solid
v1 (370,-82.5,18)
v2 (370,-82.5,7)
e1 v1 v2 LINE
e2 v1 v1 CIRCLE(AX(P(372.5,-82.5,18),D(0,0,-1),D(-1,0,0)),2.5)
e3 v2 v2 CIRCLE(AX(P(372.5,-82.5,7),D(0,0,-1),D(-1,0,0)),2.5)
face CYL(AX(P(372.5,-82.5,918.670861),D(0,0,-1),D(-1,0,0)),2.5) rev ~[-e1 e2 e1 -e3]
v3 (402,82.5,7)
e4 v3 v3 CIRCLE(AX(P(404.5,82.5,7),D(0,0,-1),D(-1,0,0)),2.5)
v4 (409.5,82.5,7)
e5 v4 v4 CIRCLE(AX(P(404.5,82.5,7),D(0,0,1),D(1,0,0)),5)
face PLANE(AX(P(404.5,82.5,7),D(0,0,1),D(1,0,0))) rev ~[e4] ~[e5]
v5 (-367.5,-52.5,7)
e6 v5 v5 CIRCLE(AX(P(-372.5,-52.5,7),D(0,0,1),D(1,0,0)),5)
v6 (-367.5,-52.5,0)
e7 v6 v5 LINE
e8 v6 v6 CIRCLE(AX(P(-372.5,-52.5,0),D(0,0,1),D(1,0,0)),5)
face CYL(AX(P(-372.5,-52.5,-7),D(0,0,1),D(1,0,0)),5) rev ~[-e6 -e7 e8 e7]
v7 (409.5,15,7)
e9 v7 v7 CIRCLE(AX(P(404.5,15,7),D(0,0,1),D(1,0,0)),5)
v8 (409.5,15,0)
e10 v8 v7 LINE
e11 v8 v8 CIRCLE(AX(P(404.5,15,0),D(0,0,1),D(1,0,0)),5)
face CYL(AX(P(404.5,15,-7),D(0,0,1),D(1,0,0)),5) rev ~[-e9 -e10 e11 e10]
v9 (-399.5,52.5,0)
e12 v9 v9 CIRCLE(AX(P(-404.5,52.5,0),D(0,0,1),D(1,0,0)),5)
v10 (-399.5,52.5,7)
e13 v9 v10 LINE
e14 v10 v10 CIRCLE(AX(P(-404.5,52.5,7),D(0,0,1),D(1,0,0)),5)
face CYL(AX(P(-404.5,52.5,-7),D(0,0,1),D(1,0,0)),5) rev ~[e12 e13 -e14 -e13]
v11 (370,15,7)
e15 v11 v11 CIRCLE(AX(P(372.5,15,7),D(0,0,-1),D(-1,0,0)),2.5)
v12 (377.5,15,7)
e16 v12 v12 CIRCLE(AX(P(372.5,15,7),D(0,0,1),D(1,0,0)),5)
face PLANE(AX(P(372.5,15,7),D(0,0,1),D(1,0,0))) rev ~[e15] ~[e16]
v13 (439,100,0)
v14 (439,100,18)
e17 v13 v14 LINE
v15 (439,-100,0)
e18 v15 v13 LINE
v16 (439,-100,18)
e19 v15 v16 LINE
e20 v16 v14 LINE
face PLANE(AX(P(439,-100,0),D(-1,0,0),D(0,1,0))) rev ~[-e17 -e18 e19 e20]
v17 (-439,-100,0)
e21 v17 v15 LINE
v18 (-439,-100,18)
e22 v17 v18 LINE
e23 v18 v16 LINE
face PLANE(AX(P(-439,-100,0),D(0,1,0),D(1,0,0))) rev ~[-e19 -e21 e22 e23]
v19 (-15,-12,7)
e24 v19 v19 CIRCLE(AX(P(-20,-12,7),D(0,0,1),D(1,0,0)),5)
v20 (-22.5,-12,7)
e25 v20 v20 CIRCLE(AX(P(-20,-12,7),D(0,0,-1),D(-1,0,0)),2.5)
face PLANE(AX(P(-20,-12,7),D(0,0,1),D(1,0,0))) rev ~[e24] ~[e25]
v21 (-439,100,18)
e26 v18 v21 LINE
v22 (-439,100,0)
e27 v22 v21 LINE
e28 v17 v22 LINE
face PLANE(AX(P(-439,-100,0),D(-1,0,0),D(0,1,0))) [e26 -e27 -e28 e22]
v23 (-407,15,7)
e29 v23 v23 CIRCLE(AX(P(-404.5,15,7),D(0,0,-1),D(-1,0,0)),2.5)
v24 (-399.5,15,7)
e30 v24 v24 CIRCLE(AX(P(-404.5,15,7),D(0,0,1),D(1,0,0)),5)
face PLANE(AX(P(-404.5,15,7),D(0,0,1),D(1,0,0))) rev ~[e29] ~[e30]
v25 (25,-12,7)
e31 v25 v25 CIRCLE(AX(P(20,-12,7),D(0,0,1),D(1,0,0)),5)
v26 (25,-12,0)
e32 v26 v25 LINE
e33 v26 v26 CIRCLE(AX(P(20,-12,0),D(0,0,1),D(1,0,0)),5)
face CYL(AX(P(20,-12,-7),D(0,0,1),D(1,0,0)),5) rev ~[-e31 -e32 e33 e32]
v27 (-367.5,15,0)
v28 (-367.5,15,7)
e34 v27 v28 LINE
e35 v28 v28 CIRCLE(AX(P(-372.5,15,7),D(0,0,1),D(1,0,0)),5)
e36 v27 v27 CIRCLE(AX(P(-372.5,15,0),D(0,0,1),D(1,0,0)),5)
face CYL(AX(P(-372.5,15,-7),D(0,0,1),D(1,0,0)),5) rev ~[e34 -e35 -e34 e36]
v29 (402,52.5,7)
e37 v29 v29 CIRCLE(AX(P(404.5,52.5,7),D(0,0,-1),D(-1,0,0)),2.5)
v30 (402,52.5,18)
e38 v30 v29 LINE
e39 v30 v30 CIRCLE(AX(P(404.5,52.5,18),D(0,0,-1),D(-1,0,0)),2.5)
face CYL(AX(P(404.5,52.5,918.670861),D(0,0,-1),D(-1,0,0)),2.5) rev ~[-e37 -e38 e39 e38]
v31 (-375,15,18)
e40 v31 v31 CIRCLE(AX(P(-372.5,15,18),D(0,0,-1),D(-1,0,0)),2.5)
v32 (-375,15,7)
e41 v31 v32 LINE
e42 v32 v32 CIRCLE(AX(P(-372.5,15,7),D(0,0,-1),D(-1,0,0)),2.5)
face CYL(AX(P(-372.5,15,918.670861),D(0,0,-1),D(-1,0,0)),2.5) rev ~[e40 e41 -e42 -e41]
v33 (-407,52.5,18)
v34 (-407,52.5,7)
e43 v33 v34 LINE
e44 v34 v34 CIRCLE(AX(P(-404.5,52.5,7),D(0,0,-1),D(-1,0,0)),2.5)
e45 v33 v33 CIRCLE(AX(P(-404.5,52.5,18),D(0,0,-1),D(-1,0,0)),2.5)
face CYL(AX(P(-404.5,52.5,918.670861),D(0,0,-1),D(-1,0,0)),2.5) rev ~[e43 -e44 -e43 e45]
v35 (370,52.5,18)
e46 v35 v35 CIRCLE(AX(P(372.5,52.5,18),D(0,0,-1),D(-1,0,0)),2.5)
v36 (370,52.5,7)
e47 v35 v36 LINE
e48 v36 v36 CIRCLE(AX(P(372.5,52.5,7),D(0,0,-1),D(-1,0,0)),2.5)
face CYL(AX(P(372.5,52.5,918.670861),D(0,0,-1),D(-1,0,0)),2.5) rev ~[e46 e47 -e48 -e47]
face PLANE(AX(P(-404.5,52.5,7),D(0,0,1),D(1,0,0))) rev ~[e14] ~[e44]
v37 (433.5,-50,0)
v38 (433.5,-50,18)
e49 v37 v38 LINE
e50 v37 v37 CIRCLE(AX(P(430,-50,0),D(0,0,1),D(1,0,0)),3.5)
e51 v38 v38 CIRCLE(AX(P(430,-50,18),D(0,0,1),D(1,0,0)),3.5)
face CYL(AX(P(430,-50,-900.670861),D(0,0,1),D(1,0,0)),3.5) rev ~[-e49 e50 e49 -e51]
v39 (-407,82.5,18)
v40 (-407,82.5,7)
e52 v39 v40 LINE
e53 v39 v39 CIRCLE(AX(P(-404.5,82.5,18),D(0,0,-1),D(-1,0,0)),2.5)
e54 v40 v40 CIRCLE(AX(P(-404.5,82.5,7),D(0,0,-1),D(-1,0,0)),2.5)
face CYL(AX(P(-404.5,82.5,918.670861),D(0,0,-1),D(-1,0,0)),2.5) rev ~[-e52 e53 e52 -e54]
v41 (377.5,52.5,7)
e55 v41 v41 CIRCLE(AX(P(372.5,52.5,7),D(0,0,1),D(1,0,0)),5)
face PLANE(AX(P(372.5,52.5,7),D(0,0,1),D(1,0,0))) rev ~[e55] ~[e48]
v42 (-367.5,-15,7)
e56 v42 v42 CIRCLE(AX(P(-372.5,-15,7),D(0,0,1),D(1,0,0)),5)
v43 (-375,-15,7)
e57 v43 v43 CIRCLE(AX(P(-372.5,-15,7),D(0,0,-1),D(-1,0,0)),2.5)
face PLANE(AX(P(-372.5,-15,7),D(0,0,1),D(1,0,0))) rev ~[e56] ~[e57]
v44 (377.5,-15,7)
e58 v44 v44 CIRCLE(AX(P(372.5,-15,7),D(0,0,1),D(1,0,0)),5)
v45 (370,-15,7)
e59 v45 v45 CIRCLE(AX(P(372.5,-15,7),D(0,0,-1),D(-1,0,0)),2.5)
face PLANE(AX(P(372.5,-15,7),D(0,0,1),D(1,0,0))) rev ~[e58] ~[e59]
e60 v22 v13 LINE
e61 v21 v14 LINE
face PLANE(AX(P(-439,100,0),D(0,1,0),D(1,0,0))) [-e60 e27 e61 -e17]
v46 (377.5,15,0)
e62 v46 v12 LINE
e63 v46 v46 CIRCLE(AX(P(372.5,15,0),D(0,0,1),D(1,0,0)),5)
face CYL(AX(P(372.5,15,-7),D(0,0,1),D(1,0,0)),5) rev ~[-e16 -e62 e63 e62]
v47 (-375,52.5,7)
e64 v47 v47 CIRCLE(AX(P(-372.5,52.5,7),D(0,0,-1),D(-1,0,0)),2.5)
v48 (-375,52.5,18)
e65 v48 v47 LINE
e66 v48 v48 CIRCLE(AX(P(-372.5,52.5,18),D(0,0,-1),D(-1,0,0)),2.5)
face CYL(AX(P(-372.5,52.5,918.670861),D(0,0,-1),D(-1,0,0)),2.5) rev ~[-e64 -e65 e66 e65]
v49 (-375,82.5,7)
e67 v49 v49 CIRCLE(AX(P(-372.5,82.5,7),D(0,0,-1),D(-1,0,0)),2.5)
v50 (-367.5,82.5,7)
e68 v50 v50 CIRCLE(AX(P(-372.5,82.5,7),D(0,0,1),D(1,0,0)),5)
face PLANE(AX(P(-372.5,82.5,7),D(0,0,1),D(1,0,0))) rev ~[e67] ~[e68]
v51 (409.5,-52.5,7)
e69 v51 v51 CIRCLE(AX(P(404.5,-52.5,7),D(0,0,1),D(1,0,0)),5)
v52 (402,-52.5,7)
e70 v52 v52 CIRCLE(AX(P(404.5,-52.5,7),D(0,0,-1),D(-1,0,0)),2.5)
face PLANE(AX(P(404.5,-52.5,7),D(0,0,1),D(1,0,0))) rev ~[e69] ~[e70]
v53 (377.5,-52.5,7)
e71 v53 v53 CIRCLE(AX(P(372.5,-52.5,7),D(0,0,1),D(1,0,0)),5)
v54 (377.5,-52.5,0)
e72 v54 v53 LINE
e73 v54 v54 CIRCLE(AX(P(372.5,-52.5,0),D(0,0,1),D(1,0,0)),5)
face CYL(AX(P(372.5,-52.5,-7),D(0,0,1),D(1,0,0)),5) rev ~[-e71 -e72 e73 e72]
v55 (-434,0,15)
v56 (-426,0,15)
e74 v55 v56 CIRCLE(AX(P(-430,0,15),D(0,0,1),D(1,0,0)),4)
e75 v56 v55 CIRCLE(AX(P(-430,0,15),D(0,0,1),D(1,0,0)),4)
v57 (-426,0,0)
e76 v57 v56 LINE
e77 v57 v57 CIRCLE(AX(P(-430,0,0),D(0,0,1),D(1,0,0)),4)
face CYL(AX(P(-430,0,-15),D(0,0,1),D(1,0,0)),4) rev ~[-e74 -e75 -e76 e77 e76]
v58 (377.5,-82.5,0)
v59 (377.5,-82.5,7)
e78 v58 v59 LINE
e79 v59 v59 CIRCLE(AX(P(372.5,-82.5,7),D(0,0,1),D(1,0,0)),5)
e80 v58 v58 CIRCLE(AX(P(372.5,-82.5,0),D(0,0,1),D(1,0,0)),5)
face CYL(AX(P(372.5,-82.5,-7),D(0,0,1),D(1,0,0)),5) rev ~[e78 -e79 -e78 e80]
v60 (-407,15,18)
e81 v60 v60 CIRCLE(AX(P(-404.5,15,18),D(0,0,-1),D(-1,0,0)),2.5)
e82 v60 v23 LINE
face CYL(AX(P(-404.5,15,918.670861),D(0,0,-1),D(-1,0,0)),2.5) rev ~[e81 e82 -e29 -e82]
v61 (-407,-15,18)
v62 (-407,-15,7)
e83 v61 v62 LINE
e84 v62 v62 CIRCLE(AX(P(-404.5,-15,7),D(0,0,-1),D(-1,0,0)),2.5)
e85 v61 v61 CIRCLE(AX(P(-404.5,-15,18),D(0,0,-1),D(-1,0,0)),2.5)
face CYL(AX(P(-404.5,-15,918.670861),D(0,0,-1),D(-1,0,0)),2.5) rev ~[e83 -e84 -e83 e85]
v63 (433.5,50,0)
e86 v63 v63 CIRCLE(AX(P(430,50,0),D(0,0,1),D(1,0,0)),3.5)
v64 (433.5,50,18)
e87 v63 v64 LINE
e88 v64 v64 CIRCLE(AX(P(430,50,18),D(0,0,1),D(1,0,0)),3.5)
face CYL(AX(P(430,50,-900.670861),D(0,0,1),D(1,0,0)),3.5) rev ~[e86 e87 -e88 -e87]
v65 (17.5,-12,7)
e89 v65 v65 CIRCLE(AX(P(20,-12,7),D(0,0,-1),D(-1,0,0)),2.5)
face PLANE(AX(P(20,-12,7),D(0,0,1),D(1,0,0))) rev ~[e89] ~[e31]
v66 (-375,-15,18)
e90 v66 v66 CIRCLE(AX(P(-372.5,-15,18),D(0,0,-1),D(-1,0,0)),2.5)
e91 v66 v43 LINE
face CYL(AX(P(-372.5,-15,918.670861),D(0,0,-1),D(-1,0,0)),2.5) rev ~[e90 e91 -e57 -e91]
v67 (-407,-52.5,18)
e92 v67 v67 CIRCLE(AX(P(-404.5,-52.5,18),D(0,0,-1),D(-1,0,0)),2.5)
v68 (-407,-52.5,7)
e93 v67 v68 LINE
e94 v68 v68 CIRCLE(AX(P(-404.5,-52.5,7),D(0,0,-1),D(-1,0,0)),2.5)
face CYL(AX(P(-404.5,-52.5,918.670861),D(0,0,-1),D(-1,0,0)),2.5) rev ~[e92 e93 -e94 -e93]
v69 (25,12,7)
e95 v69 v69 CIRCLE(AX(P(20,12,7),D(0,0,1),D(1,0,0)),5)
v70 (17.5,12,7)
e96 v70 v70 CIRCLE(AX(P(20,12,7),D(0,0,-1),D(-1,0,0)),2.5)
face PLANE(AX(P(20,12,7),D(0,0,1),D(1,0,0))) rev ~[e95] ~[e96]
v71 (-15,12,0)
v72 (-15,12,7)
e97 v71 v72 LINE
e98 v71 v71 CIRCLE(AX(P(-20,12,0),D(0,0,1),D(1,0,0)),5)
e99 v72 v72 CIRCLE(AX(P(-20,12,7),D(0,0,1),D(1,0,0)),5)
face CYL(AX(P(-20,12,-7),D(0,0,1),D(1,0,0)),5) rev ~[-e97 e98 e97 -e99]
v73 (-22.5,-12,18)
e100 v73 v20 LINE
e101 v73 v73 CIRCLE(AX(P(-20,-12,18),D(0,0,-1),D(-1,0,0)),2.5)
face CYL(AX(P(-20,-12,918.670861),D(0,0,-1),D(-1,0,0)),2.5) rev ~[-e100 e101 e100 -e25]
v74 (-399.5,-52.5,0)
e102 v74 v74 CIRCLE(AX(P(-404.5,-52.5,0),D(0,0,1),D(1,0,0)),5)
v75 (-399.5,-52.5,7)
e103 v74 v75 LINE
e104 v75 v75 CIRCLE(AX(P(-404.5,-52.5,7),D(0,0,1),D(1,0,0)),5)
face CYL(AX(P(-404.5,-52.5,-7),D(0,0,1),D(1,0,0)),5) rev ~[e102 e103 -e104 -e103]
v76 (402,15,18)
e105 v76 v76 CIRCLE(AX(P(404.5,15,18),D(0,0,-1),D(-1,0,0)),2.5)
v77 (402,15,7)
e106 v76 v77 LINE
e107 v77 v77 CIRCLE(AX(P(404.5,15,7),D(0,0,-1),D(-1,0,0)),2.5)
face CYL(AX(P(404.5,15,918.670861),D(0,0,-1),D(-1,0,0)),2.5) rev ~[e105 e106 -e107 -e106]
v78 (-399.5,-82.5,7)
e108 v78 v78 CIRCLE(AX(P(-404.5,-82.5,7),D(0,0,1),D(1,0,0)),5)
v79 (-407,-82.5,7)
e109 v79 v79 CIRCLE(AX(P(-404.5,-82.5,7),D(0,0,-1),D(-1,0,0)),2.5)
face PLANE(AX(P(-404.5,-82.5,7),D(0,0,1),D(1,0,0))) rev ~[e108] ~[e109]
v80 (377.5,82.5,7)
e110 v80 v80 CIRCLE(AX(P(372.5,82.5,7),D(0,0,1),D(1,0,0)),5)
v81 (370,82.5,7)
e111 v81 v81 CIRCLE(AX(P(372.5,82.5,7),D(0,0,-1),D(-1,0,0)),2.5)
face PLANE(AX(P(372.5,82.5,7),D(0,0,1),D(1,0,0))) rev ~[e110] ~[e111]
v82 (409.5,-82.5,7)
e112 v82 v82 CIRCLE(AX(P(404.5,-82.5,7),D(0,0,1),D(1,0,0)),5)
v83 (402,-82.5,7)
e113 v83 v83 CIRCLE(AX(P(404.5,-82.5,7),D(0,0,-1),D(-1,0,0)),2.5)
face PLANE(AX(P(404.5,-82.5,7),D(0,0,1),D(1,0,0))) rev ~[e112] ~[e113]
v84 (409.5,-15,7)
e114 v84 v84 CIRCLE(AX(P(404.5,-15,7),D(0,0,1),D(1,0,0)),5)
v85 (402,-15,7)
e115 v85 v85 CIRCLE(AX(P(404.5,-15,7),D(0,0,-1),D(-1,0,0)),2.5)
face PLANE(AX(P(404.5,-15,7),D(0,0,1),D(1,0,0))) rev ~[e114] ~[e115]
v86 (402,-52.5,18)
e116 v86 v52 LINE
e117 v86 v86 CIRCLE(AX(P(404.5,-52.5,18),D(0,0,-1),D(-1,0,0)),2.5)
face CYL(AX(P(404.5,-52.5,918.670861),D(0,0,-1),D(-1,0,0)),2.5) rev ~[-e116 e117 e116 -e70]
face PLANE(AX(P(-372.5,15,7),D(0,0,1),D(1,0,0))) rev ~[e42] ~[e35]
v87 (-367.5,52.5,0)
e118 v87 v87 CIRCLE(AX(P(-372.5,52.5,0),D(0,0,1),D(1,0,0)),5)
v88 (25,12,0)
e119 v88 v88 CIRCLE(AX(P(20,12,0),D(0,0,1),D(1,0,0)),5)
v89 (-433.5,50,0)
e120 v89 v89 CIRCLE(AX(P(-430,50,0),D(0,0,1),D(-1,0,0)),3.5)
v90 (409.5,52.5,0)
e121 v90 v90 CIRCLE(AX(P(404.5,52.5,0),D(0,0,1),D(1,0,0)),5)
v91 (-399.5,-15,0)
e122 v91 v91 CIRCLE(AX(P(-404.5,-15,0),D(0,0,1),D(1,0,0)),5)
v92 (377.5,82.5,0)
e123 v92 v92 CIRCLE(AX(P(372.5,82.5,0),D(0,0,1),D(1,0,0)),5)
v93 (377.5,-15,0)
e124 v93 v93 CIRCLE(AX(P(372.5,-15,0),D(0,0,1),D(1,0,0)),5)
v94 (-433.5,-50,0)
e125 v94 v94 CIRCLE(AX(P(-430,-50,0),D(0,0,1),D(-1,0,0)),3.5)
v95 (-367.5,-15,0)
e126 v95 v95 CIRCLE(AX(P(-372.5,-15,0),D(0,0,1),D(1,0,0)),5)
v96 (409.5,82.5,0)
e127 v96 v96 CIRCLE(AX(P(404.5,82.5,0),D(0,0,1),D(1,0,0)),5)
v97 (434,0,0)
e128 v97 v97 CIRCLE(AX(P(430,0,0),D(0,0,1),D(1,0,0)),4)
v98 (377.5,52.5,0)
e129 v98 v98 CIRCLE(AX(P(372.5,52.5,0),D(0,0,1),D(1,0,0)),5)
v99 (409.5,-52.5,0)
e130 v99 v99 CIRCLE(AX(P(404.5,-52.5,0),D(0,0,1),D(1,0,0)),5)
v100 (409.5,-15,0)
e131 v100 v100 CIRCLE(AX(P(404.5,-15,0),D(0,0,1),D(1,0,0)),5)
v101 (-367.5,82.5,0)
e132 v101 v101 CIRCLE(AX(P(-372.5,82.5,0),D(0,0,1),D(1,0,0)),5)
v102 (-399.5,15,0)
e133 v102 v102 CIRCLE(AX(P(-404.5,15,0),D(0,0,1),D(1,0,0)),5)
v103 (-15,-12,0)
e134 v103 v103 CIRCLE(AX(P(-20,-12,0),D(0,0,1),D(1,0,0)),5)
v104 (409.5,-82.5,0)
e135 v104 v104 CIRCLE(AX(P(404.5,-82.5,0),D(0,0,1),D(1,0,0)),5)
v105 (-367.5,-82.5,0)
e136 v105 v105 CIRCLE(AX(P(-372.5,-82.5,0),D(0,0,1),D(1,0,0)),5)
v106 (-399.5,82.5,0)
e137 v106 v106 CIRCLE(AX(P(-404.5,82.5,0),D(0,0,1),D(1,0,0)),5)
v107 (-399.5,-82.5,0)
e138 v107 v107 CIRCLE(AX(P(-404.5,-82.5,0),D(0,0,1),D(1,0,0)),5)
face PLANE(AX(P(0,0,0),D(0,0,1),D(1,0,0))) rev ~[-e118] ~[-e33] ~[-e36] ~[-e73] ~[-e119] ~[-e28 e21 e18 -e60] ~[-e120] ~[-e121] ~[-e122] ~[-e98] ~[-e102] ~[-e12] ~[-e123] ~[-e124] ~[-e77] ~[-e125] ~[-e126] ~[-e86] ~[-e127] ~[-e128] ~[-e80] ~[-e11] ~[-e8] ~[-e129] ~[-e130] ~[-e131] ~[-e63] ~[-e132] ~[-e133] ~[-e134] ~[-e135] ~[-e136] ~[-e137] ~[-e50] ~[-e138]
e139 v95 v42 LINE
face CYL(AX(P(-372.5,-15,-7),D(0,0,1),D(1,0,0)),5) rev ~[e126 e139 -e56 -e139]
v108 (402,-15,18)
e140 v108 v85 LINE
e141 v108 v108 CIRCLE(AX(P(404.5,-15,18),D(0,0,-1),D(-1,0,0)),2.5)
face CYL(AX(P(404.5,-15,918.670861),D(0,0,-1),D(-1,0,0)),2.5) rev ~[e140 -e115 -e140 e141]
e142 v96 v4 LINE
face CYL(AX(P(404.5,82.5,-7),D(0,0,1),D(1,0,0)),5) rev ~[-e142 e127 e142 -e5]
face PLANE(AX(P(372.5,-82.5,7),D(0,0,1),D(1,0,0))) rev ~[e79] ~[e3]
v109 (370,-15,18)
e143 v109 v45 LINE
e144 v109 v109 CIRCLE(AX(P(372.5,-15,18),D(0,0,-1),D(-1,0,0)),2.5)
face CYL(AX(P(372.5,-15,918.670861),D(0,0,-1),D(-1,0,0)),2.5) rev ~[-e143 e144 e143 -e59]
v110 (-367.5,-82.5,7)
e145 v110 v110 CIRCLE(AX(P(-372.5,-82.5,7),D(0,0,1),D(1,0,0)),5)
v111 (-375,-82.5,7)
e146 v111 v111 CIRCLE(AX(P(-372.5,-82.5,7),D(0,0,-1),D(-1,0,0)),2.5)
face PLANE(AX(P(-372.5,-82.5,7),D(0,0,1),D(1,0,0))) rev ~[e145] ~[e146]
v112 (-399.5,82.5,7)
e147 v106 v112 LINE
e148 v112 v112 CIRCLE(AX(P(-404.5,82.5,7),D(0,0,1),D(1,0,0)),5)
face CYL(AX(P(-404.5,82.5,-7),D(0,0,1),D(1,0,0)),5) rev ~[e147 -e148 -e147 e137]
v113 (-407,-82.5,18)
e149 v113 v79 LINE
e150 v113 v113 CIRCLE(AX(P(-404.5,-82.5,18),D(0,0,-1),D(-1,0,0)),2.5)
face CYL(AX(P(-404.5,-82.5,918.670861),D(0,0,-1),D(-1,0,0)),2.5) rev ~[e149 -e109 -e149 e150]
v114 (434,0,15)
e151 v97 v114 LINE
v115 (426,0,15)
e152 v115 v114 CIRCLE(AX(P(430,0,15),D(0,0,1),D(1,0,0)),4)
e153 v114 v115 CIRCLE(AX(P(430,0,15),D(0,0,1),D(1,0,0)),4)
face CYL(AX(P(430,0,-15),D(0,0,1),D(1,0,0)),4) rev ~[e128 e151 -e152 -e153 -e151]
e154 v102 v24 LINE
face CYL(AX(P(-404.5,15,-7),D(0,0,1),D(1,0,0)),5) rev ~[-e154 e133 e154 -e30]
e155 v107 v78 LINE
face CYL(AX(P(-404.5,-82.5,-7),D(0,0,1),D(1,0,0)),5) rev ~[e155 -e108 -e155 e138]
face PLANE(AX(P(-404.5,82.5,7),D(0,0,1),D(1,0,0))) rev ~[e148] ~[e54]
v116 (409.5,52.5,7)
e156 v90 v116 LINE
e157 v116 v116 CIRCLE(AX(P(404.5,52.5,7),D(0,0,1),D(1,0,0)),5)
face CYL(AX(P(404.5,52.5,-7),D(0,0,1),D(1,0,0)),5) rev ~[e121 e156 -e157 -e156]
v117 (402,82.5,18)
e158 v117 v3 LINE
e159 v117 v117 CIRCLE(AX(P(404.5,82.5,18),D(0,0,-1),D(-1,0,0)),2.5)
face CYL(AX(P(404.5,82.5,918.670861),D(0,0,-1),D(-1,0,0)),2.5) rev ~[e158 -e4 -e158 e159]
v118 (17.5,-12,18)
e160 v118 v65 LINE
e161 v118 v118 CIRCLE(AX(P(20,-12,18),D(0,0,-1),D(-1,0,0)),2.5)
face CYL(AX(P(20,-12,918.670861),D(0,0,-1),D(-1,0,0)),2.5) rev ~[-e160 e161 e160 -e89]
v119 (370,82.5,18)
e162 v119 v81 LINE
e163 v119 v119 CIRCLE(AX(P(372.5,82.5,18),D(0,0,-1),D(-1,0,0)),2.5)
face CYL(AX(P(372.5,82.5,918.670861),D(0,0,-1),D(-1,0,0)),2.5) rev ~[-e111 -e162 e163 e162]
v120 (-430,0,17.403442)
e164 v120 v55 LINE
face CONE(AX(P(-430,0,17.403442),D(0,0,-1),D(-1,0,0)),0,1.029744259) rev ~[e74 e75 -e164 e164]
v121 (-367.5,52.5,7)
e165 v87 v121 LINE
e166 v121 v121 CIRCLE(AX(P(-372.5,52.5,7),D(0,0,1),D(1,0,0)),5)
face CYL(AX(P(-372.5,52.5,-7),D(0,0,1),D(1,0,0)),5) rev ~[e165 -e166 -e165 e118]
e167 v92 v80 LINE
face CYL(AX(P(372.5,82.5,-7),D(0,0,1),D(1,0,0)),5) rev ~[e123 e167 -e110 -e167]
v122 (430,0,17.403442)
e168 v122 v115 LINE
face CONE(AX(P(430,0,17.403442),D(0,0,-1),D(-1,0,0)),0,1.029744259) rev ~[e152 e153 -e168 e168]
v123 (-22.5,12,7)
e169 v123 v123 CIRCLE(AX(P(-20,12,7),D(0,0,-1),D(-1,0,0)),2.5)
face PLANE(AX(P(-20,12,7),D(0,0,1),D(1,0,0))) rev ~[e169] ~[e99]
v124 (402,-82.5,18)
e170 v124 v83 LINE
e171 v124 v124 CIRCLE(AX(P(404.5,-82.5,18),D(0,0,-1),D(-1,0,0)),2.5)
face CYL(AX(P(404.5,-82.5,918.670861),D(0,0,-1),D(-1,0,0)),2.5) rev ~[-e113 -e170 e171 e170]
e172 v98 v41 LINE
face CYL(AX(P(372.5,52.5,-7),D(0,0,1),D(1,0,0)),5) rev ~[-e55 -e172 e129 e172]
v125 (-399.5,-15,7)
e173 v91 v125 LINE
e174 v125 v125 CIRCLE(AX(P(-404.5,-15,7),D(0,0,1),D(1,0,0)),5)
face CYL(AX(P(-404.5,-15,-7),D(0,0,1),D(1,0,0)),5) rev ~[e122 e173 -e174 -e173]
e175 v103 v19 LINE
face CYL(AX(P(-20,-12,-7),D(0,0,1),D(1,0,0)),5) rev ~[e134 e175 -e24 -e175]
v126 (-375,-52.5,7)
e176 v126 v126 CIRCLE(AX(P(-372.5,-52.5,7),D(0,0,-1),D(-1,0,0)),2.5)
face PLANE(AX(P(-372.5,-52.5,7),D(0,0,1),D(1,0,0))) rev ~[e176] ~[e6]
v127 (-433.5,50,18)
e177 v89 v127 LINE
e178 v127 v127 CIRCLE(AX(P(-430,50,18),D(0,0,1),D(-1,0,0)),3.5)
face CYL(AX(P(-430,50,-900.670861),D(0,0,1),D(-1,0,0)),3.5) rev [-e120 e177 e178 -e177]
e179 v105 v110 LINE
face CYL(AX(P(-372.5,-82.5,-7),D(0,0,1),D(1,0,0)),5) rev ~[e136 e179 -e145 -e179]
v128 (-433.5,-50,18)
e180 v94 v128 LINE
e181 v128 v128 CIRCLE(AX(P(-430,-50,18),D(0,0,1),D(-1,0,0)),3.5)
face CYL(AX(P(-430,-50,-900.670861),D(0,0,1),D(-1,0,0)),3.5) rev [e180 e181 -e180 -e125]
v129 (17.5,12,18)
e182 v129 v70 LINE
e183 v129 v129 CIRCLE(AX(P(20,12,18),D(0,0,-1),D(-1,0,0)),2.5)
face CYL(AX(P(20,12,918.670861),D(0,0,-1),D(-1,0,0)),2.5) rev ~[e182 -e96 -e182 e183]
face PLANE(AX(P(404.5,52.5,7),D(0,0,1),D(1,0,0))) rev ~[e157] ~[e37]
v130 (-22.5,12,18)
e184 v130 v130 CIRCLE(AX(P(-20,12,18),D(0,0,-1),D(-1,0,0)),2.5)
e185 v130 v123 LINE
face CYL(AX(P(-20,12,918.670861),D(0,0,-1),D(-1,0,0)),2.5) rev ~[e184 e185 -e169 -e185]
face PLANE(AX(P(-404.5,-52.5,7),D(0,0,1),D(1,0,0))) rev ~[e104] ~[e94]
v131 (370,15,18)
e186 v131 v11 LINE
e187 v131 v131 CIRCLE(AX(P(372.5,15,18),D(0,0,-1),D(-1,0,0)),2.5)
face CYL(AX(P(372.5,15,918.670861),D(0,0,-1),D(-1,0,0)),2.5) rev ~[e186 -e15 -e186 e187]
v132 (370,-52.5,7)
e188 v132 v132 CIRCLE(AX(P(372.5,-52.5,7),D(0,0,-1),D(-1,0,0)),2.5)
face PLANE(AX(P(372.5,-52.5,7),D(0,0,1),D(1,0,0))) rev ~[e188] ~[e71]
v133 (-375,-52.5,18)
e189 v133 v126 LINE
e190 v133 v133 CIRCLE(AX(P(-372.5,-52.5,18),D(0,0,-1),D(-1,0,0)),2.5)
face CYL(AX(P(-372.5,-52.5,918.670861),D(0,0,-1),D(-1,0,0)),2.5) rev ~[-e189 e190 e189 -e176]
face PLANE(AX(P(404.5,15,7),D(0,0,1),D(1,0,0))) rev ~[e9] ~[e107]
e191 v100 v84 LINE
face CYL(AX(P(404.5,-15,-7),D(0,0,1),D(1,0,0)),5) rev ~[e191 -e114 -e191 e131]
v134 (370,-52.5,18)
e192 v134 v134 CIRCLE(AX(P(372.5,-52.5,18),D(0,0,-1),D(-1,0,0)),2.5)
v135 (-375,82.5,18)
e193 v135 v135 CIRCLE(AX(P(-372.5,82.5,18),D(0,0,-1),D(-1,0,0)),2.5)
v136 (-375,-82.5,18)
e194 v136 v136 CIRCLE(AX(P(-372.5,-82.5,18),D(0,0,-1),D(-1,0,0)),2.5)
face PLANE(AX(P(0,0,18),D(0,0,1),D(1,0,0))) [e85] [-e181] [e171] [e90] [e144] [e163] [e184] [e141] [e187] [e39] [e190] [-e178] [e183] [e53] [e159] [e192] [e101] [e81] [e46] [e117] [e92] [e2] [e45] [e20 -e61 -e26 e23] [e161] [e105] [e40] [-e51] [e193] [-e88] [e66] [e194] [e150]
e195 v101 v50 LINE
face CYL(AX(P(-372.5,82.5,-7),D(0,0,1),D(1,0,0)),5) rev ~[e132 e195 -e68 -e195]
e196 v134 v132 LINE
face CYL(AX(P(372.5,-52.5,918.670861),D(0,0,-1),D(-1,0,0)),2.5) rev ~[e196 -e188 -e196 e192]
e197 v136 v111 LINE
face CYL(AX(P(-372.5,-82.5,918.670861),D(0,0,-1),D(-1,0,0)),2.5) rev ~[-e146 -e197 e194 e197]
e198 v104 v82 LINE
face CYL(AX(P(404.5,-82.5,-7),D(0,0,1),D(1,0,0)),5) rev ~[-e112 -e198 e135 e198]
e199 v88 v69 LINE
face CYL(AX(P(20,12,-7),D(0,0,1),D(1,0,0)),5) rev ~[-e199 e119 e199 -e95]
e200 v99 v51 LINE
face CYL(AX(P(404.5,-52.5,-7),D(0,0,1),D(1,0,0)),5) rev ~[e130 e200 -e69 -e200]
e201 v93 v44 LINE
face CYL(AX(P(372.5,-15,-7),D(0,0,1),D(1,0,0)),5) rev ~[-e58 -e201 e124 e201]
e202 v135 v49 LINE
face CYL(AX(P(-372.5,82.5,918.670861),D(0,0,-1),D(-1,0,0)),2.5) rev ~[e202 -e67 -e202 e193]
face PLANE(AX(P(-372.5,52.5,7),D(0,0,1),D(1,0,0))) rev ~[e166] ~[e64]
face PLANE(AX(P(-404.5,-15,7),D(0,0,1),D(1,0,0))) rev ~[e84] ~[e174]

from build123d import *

# Parameters (mm, degrees)
SKETCH1_W             = 878
SKETCH1_H             = 200
BOSS_EXTRUDE1_DEPTH   = 18
OTW_R_7_0_7_1_D       = 7
OTW_R_5_0_5_1_D       = 5
OTW_R_10_0_10_1_D     = 10
OTW_R_10_0_10_1_DEPTH = 7
OTW_R_5_0_5_2_D       = 5
OTW_R_10_0_10_2_D     = 10
OTW_R_10_0_10_2_DEPTH = 7
OTW_R_8_0_8_1_D       = 8
OTW_R_8_0_8_1_DEPTH   = 15
OTW_R_8_0_8_1_TIP     = 2.403442476


with BuildPart() as part:
    # Sketch1 → Boss-Extrude1 (new body)
    with BuildSketch(Plane.XY):
        Rectangle(SKETCH1_W, SKETCH1_H)
    extrude(amount=BOSS_EXTRUDE1_DEPTH)

    # Otwór Ø7.0 (7)1 (through all)
    with Locations(Plane(origin=(0, 0, 0), x_dir=(-1, 0, 0), z_dir=(0, 0, -1))):
        with Locations((-430, 50), (-430, -50)):
            otw_r_7_0_7_1 = Hole(OTW_R_7_0_7_1_D / 2)

    # Lustro1: Otwór Ø7.0 (7)1 across plane
    add(otw_r_7_0_7_1.mirror(Plane.ZY), mode=Mode.SUBTRACT)

    # Otwór Ø5.0 (5)1 (through all)
    with Locations(Plane.XY.offset(18)):
        with Locations((372.5, 82.5), (372.5, 52.5), (404.5, 82.5), (404.5, 52.5), (404.5, 15), (404.5, -15), (372.5, 15), (372.5, -15), (372.5, -52.5), (372.5, -82.5), (404.5, -52.5), (404.5, -82.5), (-372.5, 82.5), (-372.5, 52.5), (-404.5, 52.5), (-404.5, 82.5), (-372.5, 15), (-372.5, -15), (-404.5, -15), (-404.5, 15), (-372.5, -82.5), (-372.5, -52.5), (-404.5, -52.5), (-404.5, -82.5)):
            Hole(OTW_R_5_0_5_1_D / 2)

    # Otwór Ø10.0 (10)1
    with Locations(Plane(origin=(0, 0, 0), x_dir=(-1, 0, 0), z_dir=(0, 0, -1))):
        with Locations((372.5, 82.5), (372.5, 52.5), (372.5, 15), (372.5, -15), (372.5, -52.5), (372.5, -82.5), (404.5, -82.5), (404.5, -52.5), (404.5, -15), (404.5, 15), (404.5, 52.5), (404.5, 82.5), (-372.5, -82.5), (-404.5, -82.5), (-404.5, -52.5), (-372.5, -52.5), (-372.5, -15), (-404.5, -15), (-404.5, 15), (-372.5, 15), (-372.5, 52.5), (-404.5, 52.5), (-404.5, 82.5), (-372.5, 82.5)):
            Hole(OTW_R_10_0_10_1_D / 2, depth=OTW_R_10_0_10_1_DEPTH)

    # Otwór Ø5.0 (5)2 (through all)
    with Locations(Plane.XY.offset(18)):
        with Locations((-20, 12), (20, 12), (20, -12), (-20, -12)):
            Hole(OTW_R_5_0_5_2_D / 2)

    # Otwór Ø10.0 (10)2
    with Locations(Plane(origin=(0, 0, 0), x_dir=(-1, 0, 0), z_dir=(0, 0, -1))):
        with Locations((20, 12), (20, -12), (-20, -12), (-20, 12)):
            Hole(OTW_R_10_0_10_2_D / 2, depth=OTW_R_10_0_10_2_DEPTH)

    # Otwór Ø8.0 (8)1
    with Locations(Plane(origin=(0, 0, 0), x_dir=(-1, 0, 0), z_dir=(0, 0, -1))):
        with Locations((430, 0), (-430, 0)):
            Hole(OTW_R_8_0_8_1_D / 2, depth=OTW_R_8_0_8_1_DEPTH)
            with Locations((0, 0, -(OTW_R_8_0_8_1_DEPTH + OTW_R_8_0_8_1_TIP / 2))):  # 118° drill point
                Cone(0, OTW_R_8_0_8_1_D / 2, OTW_R_8_0_8_1_TIP, mode=Mode.SUBTRACT)


solid = part.part
